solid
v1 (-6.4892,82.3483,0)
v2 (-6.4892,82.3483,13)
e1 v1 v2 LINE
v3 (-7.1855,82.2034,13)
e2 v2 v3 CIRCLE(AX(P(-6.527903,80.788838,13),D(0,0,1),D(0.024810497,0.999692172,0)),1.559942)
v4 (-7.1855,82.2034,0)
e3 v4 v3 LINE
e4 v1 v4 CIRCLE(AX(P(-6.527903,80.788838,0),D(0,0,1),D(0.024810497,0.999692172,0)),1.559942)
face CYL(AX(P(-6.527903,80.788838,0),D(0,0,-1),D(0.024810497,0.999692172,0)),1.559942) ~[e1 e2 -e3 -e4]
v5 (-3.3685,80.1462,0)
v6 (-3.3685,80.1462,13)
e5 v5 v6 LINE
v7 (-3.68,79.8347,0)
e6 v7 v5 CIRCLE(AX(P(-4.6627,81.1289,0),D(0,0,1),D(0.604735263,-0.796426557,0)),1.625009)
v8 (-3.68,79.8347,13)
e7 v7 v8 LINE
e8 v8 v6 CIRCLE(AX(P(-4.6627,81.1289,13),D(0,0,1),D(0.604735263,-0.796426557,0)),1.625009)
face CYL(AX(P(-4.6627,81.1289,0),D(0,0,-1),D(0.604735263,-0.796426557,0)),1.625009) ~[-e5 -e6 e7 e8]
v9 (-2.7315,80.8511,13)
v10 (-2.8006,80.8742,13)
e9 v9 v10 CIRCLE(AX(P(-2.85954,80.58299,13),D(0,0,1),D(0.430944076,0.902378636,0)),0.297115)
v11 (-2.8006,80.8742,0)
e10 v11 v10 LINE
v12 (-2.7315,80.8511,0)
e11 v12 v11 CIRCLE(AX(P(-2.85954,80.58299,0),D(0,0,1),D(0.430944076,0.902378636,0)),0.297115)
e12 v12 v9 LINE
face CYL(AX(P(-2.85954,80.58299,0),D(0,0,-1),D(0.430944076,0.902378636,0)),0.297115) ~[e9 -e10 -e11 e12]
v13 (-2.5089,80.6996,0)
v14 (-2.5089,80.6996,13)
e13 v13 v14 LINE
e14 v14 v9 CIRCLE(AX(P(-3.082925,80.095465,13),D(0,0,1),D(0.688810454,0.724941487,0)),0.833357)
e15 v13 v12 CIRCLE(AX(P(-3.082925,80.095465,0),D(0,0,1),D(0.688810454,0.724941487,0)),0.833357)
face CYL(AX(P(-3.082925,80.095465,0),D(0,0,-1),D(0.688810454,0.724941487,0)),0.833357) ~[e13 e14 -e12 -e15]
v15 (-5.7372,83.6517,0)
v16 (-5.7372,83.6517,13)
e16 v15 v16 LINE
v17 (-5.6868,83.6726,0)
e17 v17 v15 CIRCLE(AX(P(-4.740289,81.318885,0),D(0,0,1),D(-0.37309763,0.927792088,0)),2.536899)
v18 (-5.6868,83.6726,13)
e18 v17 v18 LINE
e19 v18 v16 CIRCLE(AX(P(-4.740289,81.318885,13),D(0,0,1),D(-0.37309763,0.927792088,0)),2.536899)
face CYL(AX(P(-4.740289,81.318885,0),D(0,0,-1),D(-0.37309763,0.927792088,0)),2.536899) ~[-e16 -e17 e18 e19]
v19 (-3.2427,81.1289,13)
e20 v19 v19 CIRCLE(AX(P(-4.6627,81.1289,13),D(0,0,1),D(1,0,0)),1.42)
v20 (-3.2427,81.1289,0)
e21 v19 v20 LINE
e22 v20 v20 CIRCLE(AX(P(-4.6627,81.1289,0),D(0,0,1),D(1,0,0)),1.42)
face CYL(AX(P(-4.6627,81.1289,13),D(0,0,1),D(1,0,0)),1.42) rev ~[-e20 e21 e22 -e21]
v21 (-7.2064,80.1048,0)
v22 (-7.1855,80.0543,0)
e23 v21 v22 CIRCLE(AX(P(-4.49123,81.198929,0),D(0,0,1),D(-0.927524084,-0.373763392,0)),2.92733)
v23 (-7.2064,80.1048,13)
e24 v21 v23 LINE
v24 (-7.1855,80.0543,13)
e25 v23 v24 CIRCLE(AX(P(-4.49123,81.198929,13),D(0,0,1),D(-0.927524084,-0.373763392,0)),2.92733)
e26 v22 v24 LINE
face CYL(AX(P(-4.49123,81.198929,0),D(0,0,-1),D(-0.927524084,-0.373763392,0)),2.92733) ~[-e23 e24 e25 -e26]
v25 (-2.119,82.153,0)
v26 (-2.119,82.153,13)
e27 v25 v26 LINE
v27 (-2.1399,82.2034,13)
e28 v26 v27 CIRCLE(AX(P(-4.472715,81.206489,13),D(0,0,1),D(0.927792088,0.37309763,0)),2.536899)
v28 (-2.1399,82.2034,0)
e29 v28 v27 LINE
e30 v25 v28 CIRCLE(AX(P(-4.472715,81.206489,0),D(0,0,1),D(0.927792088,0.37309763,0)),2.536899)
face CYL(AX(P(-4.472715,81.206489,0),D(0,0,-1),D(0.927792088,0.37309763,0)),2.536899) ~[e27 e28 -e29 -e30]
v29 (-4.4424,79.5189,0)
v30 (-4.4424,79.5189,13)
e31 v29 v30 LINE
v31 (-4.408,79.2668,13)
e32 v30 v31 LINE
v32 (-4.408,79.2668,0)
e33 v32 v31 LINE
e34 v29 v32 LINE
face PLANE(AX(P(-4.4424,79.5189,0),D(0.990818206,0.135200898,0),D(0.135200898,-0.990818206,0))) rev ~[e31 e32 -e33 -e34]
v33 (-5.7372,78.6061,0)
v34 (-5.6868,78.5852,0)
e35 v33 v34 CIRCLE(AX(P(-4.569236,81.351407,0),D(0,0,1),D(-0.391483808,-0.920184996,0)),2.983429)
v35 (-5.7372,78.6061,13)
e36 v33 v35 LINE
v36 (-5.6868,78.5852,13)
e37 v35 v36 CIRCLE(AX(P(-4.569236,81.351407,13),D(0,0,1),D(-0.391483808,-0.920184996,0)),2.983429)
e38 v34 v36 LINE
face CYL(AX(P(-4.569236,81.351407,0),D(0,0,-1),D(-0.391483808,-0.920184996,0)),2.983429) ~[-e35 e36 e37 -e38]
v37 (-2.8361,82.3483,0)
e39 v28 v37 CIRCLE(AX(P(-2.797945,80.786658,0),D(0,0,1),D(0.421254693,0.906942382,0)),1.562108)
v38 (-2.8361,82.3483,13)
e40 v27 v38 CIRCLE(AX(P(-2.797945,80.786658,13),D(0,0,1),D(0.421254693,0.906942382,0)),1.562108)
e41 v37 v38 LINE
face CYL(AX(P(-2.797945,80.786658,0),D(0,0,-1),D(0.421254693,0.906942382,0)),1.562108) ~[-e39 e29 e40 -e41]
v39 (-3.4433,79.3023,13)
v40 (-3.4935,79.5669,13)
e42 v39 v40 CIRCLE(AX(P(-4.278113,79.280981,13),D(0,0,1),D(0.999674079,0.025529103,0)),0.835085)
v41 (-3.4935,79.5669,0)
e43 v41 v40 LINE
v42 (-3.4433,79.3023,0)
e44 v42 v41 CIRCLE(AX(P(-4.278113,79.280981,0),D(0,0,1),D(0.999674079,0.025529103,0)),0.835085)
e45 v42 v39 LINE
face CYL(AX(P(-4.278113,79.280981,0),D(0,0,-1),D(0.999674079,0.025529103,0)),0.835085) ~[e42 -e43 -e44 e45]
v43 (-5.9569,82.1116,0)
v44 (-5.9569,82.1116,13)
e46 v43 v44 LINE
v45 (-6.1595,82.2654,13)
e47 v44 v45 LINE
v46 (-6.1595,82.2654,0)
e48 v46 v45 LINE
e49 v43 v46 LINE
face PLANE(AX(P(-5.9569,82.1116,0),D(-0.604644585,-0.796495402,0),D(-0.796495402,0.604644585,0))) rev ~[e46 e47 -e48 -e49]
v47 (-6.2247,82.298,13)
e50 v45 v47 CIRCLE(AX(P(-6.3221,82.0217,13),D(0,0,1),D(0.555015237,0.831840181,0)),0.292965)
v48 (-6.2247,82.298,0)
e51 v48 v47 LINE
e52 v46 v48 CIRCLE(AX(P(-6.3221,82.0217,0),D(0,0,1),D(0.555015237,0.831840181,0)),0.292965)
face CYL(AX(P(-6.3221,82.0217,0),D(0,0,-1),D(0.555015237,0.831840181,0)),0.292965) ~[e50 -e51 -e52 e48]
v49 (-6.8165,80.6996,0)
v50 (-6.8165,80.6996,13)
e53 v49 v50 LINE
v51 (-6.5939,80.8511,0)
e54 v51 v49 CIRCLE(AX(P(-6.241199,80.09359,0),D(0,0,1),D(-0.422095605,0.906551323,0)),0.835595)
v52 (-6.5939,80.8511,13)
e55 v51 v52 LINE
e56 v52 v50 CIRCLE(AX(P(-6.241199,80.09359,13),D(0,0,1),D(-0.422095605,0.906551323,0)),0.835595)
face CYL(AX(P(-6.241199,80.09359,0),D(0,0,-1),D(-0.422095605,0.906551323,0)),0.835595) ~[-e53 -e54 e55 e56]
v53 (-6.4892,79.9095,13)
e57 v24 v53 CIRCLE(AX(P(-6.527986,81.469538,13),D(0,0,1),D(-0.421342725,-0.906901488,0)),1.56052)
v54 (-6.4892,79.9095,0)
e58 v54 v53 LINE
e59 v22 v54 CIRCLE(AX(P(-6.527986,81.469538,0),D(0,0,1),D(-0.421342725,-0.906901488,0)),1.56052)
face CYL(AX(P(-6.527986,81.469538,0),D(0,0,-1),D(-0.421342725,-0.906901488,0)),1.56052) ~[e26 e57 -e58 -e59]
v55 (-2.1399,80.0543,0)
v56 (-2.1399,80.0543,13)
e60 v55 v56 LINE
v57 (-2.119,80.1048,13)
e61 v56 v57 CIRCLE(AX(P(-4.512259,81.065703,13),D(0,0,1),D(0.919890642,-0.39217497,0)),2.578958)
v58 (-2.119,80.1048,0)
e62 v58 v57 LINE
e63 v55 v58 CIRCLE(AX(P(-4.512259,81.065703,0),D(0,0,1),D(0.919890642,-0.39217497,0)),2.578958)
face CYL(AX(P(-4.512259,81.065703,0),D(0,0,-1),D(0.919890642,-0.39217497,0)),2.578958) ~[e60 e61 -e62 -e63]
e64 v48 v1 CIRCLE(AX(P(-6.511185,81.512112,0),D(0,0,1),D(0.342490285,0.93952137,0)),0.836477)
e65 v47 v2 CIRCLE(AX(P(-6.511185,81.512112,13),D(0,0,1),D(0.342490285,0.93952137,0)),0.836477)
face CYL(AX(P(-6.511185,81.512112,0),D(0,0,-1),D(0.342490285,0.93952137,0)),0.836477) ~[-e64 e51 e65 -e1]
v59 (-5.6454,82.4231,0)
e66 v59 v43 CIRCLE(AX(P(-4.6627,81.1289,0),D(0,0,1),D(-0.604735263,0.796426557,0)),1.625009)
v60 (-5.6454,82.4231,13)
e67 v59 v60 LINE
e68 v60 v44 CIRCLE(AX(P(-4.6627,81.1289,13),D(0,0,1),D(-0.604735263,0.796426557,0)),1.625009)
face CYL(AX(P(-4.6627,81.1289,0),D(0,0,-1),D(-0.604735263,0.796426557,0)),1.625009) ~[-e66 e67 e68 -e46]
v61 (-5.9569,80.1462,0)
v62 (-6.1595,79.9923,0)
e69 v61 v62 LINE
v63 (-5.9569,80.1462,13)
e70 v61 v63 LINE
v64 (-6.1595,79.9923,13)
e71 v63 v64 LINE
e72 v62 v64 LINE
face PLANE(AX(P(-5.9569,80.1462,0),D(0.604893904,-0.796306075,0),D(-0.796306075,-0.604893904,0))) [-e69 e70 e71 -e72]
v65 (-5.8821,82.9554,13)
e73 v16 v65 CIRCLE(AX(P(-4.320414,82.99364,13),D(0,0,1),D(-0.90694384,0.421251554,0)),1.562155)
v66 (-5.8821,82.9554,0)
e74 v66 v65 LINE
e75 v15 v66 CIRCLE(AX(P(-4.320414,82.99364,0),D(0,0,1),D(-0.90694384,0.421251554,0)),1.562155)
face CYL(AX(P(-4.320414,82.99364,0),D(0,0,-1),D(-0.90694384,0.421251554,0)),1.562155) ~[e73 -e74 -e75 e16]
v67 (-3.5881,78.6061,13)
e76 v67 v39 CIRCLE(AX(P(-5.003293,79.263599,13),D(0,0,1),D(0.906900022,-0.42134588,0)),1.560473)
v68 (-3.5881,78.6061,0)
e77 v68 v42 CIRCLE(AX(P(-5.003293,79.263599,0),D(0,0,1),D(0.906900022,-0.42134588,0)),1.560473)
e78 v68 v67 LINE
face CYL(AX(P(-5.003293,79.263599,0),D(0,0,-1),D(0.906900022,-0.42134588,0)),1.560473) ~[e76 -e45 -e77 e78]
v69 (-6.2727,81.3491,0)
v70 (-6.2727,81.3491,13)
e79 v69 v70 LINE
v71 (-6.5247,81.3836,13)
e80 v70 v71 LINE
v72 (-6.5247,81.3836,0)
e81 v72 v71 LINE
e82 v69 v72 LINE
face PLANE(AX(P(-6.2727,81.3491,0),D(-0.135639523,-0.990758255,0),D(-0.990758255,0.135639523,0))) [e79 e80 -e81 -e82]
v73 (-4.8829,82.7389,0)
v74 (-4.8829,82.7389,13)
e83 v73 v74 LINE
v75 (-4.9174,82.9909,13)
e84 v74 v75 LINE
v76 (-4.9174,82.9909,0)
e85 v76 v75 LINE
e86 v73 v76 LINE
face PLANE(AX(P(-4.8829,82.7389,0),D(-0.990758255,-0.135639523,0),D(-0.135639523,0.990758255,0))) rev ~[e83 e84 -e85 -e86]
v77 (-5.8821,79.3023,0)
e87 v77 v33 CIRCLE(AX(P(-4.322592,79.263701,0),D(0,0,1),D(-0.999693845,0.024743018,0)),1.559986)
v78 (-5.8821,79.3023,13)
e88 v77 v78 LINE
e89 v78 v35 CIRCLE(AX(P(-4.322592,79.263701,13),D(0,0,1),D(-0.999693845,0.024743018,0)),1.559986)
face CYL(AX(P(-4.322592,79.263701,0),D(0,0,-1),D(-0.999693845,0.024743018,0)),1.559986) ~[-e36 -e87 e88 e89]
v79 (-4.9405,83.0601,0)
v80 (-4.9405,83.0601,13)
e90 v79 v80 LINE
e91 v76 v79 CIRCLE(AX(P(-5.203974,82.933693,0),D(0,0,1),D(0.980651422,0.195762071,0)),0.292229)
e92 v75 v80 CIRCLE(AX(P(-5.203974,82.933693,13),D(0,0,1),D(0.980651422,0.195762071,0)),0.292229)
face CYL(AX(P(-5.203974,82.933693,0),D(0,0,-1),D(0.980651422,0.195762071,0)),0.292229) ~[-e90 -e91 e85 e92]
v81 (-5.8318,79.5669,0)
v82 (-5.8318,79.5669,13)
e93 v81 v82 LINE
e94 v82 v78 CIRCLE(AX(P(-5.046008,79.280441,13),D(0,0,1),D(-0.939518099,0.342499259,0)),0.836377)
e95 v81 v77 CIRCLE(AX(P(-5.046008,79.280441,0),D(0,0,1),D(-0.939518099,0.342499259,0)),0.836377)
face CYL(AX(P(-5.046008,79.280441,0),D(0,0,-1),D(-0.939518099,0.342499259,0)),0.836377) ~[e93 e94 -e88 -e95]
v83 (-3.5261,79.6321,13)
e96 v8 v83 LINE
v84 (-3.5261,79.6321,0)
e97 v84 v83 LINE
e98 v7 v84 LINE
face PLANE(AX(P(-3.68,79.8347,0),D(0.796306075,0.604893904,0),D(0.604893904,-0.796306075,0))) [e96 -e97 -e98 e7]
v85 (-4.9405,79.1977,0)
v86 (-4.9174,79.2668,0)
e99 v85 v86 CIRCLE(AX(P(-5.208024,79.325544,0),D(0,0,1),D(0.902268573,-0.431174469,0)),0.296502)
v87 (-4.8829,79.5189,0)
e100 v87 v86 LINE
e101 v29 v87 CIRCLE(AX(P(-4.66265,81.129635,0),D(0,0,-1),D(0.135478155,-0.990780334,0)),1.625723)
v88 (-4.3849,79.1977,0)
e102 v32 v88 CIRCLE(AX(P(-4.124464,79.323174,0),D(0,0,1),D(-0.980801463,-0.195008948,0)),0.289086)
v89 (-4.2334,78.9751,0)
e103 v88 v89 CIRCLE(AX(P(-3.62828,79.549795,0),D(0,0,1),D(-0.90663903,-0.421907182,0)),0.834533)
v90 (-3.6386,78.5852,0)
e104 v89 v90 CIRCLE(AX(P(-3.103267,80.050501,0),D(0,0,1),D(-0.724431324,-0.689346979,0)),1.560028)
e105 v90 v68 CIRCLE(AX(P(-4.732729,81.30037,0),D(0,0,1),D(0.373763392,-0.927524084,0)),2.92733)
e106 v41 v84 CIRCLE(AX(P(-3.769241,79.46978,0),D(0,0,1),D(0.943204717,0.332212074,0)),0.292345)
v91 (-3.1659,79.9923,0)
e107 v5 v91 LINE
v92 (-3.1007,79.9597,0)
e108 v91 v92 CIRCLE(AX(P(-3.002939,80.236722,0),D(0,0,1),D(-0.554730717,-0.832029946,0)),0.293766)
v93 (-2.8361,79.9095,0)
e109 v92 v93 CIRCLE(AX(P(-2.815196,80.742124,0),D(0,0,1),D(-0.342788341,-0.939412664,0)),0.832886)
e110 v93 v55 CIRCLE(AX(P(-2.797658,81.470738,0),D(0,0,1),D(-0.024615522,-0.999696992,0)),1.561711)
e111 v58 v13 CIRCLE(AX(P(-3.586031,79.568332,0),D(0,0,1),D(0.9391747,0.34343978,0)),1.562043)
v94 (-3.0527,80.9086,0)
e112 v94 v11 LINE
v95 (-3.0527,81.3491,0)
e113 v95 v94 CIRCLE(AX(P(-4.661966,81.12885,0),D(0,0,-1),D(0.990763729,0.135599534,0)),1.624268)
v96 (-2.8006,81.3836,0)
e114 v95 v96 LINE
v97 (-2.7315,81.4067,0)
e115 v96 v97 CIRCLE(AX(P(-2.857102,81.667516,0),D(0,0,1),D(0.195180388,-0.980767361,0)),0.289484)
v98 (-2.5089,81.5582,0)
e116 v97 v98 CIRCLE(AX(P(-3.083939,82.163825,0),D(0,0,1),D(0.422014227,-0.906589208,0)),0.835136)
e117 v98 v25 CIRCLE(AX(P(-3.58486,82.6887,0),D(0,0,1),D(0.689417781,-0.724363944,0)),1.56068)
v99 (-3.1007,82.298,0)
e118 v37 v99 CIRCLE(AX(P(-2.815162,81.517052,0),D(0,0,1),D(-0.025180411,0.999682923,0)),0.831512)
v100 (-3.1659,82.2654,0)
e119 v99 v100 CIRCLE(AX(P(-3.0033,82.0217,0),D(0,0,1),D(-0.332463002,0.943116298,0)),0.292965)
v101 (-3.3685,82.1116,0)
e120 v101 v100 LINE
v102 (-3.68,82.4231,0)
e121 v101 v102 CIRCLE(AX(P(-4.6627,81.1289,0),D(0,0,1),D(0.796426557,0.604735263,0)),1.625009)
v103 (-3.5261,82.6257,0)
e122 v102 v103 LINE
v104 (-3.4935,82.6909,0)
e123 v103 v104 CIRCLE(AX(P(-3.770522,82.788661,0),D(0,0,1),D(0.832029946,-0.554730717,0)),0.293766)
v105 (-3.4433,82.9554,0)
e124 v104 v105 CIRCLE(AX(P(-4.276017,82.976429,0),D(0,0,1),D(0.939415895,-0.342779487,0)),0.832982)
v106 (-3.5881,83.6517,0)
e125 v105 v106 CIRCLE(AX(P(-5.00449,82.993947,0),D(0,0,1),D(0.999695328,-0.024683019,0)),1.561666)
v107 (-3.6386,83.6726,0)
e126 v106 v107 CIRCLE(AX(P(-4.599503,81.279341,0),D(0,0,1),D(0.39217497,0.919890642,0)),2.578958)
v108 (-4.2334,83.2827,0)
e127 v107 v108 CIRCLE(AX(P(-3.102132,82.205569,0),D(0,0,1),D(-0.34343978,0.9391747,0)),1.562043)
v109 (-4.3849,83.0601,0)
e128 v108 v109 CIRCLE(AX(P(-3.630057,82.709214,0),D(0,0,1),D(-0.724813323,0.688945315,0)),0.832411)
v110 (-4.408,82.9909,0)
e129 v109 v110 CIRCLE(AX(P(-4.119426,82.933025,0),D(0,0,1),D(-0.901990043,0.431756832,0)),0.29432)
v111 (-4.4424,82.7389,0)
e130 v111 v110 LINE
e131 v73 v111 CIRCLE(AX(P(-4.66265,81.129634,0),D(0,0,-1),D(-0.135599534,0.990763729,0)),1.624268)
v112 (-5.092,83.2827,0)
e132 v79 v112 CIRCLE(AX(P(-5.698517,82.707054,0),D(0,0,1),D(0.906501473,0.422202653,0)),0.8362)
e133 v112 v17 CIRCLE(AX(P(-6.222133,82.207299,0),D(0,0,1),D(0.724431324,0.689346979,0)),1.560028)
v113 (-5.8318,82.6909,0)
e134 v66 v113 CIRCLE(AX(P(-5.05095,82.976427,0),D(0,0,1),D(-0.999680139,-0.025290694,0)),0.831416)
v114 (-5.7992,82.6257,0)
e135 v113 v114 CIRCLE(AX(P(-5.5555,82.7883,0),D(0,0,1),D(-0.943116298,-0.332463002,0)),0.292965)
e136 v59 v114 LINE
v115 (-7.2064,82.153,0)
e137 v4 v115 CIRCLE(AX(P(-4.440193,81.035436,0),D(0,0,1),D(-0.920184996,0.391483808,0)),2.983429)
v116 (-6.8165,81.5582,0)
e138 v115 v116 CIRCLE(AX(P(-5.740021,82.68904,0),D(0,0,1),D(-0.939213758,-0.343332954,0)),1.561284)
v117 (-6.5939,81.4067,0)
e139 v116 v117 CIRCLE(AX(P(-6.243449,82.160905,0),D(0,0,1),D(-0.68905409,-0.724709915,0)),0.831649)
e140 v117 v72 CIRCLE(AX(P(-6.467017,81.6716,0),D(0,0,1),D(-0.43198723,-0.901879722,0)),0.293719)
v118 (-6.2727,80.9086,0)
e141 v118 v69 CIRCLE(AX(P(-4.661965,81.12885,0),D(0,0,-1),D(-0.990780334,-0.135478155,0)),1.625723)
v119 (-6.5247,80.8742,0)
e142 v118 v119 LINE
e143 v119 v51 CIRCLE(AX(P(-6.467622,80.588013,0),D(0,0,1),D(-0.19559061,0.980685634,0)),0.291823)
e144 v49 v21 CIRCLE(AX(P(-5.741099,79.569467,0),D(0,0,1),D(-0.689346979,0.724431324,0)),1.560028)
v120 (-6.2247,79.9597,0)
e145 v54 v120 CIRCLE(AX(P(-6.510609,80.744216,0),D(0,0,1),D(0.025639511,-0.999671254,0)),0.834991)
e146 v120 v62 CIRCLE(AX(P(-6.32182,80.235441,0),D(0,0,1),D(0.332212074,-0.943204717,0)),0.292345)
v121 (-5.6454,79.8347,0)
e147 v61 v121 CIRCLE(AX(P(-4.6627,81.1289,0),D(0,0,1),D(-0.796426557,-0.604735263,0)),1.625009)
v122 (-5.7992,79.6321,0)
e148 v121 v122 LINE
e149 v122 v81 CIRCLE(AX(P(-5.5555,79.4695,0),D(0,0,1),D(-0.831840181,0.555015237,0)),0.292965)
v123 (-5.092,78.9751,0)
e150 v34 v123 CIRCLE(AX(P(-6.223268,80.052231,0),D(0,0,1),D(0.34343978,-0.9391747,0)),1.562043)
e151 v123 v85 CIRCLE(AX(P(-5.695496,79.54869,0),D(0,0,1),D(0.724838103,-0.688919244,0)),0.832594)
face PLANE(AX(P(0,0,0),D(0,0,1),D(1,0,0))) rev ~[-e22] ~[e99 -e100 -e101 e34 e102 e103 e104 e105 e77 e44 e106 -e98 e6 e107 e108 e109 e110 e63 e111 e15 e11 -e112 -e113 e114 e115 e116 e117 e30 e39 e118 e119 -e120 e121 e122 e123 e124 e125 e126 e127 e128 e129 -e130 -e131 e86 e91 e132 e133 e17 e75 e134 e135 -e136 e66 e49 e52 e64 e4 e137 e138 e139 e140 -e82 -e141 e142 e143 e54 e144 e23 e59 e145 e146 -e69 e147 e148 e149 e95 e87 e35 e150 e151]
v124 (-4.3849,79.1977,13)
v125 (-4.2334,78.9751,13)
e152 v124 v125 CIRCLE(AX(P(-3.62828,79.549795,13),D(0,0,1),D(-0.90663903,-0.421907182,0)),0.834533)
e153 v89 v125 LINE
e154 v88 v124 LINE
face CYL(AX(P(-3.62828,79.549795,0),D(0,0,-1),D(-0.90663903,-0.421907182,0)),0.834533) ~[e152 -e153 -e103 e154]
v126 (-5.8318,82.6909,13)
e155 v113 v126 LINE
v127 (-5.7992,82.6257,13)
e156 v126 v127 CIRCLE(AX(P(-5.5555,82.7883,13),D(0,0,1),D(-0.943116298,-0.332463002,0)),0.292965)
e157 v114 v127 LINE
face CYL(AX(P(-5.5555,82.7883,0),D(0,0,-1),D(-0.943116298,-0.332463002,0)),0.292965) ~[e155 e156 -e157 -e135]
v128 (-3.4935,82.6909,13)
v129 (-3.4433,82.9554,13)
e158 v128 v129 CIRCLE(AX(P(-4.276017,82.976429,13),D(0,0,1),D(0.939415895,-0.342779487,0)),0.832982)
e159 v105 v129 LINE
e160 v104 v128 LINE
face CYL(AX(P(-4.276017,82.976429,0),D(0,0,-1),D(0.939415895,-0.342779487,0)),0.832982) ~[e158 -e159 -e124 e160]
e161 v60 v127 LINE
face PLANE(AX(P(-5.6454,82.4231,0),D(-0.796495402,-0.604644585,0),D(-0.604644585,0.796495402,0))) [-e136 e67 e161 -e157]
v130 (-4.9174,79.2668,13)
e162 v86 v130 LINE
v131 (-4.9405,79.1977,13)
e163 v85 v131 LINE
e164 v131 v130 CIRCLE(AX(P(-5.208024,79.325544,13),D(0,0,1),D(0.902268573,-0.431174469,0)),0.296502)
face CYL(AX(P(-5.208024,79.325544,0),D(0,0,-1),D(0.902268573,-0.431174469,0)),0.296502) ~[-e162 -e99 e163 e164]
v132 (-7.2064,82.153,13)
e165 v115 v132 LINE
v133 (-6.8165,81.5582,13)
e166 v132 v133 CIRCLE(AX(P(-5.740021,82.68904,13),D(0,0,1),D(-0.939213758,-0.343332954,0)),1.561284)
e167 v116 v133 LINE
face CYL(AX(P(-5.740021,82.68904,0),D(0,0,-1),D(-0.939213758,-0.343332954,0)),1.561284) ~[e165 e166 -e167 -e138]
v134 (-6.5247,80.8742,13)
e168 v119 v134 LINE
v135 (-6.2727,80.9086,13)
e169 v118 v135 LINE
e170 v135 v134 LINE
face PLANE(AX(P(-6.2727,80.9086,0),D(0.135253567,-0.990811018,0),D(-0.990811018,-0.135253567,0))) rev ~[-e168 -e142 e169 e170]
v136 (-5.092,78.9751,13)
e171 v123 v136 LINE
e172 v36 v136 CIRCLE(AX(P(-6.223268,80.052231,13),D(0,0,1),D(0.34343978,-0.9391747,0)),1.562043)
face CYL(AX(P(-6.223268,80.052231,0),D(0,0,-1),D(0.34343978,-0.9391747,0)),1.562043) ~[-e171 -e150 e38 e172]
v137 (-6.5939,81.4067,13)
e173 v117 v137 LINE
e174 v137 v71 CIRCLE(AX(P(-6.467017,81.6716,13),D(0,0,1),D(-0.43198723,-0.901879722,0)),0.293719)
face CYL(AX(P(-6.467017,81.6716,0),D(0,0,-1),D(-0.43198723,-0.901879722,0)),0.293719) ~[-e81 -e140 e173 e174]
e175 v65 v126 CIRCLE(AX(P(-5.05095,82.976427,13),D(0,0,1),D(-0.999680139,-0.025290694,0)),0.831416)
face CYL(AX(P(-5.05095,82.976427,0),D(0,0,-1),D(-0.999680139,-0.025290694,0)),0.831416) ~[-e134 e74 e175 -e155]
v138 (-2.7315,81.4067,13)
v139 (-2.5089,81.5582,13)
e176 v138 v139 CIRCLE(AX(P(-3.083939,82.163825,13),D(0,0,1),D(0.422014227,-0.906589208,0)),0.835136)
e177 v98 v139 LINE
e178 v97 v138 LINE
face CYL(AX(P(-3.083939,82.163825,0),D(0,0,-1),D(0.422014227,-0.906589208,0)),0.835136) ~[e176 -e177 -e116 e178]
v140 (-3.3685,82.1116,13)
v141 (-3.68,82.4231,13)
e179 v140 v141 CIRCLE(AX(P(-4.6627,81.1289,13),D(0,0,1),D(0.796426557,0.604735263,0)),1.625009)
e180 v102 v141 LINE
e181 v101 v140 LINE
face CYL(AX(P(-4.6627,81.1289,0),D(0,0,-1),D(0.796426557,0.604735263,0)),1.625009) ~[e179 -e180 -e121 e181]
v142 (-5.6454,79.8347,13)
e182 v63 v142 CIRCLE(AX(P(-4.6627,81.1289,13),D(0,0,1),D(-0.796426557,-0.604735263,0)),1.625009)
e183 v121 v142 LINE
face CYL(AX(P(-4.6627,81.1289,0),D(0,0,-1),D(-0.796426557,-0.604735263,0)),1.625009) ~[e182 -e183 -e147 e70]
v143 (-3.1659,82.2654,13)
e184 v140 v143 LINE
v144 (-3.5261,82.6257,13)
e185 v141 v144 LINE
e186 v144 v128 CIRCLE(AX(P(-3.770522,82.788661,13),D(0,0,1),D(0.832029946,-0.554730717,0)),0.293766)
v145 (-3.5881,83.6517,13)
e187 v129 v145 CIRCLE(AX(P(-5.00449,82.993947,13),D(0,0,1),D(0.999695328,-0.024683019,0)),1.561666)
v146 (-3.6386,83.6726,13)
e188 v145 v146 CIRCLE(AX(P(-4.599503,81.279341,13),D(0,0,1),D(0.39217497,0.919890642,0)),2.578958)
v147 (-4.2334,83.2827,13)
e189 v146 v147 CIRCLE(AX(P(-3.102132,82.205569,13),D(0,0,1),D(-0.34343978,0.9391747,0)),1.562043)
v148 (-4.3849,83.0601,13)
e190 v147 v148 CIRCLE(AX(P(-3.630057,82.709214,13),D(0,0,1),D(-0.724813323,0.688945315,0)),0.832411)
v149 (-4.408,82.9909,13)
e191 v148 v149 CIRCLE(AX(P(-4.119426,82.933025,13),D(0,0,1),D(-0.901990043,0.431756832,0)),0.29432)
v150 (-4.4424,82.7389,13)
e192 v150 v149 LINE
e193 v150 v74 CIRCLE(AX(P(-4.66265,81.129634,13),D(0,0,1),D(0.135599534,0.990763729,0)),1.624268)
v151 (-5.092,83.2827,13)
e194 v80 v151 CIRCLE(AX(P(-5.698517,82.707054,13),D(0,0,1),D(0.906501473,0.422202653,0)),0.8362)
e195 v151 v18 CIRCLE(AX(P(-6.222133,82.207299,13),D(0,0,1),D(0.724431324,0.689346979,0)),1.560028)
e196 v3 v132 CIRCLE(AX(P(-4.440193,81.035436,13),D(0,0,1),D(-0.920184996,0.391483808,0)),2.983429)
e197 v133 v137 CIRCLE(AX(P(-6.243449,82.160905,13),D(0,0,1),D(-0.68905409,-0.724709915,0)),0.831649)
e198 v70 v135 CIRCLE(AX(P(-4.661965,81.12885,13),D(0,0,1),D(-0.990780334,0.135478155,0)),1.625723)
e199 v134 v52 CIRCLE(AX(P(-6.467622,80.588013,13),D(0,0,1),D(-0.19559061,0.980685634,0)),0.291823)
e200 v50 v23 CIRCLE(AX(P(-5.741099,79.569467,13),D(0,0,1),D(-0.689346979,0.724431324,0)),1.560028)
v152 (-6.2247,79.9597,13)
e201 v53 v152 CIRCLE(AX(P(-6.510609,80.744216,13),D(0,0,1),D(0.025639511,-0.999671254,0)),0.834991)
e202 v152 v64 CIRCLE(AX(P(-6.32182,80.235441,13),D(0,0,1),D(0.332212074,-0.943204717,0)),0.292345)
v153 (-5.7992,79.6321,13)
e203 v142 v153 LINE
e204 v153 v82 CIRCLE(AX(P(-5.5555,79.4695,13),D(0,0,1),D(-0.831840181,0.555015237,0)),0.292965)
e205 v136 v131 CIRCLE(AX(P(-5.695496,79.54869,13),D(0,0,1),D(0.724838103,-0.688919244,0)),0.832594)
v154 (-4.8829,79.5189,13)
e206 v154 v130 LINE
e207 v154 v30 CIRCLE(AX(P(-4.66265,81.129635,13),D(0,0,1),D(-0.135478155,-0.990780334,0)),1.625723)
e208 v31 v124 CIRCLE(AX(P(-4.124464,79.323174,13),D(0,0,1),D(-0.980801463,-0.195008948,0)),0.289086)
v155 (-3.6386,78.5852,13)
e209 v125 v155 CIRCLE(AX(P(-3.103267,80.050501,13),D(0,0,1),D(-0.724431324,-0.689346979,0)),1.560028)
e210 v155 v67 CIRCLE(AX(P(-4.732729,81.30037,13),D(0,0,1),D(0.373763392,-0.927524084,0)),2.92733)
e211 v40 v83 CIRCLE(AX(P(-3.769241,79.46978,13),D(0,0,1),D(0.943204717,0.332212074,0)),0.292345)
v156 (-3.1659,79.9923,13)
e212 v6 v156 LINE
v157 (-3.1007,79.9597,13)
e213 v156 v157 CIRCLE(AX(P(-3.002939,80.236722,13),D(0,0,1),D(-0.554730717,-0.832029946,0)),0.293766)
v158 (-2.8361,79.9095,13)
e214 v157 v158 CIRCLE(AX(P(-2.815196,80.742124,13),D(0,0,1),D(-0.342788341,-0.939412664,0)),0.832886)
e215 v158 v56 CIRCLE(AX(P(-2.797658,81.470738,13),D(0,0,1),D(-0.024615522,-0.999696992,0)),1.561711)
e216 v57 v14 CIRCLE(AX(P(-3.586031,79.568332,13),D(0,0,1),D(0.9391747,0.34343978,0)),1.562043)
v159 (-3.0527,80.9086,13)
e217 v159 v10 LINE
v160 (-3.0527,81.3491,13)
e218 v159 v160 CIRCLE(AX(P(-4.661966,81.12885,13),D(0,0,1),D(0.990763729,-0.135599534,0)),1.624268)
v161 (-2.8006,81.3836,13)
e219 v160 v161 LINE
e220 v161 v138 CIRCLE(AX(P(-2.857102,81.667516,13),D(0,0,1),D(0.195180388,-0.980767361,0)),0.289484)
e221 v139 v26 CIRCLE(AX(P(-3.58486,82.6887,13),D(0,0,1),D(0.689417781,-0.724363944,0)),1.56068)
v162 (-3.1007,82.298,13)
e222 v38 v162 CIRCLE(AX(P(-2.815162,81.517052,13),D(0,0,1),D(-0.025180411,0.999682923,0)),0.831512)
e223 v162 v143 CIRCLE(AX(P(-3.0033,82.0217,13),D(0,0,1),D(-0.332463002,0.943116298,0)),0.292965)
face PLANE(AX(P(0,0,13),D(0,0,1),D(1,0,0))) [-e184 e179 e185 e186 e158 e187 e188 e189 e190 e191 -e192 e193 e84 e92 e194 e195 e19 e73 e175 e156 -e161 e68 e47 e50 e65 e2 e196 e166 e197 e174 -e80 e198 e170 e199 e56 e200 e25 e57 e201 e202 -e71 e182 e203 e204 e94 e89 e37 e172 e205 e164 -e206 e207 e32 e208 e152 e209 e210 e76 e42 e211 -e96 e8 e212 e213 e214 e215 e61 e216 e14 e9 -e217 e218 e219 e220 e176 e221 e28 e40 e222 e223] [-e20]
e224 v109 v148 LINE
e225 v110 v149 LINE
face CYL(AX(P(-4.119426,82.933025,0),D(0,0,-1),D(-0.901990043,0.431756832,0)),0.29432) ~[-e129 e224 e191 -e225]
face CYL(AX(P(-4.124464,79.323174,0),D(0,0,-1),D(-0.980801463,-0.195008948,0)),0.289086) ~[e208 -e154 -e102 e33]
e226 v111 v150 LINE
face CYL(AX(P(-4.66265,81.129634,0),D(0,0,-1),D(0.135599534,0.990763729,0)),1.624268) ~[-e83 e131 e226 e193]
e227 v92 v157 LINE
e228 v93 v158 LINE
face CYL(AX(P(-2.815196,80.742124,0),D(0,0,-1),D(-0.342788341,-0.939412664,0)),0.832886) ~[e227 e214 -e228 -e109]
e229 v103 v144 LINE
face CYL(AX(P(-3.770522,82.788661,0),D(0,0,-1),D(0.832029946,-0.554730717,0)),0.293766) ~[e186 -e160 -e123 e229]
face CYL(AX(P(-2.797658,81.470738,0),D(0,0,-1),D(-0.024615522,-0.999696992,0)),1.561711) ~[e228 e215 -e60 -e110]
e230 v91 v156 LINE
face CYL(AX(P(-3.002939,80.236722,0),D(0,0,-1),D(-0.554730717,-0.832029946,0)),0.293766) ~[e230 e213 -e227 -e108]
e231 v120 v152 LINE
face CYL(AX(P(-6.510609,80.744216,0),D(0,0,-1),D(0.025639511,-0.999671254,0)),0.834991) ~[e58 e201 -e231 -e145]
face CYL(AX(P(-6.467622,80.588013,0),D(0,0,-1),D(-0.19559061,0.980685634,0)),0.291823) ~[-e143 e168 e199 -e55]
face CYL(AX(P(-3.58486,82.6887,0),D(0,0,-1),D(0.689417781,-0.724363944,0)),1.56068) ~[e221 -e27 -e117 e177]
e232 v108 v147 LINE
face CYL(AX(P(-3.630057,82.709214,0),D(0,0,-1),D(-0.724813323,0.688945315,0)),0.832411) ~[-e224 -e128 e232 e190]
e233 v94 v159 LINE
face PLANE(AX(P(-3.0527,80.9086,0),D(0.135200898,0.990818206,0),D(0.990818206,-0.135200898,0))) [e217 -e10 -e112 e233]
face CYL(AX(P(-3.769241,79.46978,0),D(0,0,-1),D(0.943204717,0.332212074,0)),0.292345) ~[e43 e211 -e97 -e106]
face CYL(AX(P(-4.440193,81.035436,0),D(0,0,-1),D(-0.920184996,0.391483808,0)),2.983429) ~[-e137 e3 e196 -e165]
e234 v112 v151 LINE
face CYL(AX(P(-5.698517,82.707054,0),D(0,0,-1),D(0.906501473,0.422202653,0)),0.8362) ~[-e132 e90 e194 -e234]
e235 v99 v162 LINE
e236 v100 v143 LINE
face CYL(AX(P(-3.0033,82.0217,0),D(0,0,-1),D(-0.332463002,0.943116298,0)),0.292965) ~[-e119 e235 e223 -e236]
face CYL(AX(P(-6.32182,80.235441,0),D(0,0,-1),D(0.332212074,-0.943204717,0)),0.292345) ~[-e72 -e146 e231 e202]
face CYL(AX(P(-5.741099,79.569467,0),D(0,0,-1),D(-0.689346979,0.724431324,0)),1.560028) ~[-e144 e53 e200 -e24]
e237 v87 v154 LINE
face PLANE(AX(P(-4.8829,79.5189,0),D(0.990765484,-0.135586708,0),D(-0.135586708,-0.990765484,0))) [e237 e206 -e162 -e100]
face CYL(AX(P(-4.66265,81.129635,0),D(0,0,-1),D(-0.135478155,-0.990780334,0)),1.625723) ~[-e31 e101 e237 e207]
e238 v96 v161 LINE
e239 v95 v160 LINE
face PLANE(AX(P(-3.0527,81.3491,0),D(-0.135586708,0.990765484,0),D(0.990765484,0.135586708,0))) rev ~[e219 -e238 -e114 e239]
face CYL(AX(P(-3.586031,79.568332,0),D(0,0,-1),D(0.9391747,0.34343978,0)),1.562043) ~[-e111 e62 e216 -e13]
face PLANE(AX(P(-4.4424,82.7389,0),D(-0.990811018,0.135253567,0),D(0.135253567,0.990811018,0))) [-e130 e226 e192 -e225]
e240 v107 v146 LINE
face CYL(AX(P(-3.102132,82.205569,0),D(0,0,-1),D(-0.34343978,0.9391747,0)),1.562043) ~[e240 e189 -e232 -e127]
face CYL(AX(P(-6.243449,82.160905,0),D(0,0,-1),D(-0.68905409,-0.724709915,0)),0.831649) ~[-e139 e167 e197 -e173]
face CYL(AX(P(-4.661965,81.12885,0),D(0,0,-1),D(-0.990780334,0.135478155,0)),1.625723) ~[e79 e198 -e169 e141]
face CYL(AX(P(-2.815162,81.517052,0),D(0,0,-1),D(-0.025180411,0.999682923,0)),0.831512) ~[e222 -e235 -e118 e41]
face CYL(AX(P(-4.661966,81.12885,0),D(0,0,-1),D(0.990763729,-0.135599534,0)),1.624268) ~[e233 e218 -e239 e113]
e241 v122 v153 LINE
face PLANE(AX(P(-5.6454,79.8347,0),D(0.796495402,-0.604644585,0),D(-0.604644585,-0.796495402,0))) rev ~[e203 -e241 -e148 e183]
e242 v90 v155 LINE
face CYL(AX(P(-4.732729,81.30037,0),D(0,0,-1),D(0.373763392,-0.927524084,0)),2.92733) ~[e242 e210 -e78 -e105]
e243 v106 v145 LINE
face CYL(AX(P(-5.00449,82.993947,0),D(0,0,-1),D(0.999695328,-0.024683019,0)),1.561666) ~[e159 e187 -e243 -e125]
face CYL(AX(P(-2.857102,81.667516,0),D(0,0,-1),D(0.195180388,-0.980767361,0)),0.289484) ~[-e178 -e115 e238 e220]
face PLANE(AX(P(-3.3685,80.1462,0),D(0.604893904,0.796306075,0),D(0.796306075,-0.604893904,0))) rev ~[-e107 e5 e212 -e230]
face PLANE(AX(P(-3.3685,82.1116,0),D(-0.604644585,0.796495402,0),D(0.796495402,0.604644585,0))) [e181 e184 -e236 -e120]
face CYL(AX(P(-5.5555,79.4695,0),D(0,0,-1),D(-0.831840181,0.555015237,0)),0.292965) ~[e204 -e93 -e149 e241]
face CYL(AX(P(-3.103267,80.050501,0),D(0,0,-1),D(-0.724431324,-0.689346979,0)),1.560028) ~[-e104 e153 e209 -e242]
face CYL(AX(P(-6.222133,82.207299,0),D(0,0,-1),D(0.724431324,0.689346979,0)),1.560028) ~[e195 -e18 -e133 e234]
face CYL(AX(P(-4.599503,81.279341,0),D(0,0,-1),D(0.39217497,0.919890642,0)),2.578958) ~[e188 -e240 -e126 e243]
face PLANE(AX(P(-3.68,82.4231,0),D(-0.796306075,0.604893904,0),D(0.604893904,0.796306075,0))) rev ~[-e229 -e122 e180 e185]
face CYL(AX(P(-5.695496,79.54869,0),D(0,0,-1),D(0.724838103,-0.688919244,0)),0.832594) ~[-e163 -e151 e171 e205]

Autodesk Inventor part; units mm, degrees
ref_plane "YZ Plane" through (0, 0, 0) normal (1, 0, 0) x (0, 1, 0)
ref_plane "XZ Plane" through (0, 0, 0) normal (0, 1, 0) x (-1, 0, 0)
ref_plane "XY Plane" through (0, 0, 0) normal (0, 0, 1) x (1, 0, 0)
sketch "スケッチ1" plane through (0, 0, 0) normal (0, 0, 1) x (1, 0, 0)
  arc A0 (-4.3849, 83.0601) -> (-4.408, 82.9909) centre (-4.1206, 82.9335) ccw
  arc A1 (-4.2334, 83.2827) -> (-4.3849, 83.0601) centre (-3.6288, 82.7082) ccw
  arc A2 (-3.6386, 83.6726) -> (-4.2334, 83.2827) centre (-3.1026, 82.2065) ccw
  arc A3 (-5.8318, 82.6909) -> (-5.7992, 82.6257) centre (-5.5555, 82.7883) ccw
  arc A4 (-5.8821, 82.9554) -> (-5.8318, 82.6909) centre (-5.0484, 82.9767) ccw
  arc A5 (-5.7372, 83.6517) -> (-5.8821, 82.9554) centre (-4.3215, 82.994) ccw
  arc A6 (-6.5939, 81.4067) -> (-6.5247, 81.3836) centre (-6.4673, 81.6709) ccw
  arc A7 (-6.8165, 81.5582) -> (-6.5939, 81.4067) centre (-6.242, 82.1627) ccw
  arc A8 (-7.2064, 82.153) -> (-6.8165, 81.5582) centre (-5.7403, 82.6889) ccw
  arc A9 (-6.2247, 79.9597) -> (-6.1595, 79.9923) centre (-6.3221, 80.2361) ccw
  arc A10 (-6.4892, 79.9095) -> (-6.2247, 79.9597) centre (-6.5105, 80.7432) ccw
  arc A11 (-7.1855, 80.0543) -> (-6.4892, 79.9095) centre (-6.5278, 81.4701) ccw
  arc A12 (-4.9405, 79.1977) -> (-4.9174, 79.2668) centre (-5.2047, 79.3242) ccw
  arc A13 (-5.092, 78.9751) -> (-4.9405, 79.1977) centre (-5.6965, 79.5495) ccw
  arc A14 (-5.6868, 78.5852) -> (-5.092, 78.9751) centre (-6.2228, 80.0513) ccw
  arc A15 (-3.4935, 79.5669) -> (-3.5261, 79.6321) centre (-3.7699, 79.4695) ccw
  arc A16 (-3.4433, 79.3023) -> (-3.4935, 79.5669) centre (-4.277, 79.2811) ccw
  arc A17 (-3.5881, 78.6061) -> (-3.4433, 79.3023) centre (-5.0039, 79.2638) ccw
  arc A18 (-2.7315, 80.8511) -> (-2.8006, 80.8742) centre (-2.858, 80.5868) ccw
  arc A19 (-2.5089, 80.6996) -> (-2.7315, 80.8511) centre (-3.0833, 80.095) ccw
  arc A20 (-2.119, 80.1048) -> (-2.5089, 80.6996) centre (-3.5851, 79.5688) ccw
  arc A21 (-3.1007, 82.298) -> (-3.1659, 82.2654) centre (-3.0033, 82.0217) ccw
  arc A22 (-2.8361, 82.3483) -> (-3.1007, 82.298) centre (-2.8149, 81.5146) ccw
  arc A23 (-2.1399, 82.2034) -> (-2.8361, 82.3483) centre (-2.7976, 80.7877) ccw
  arc A24 (-4.9174, 82.9909) -> (-4.9405, 83.0601) centre (-5.2047, 82.9335) ccw
  arc A25 (-4.9405, 83.0601) -> (-5.092, 83.2827) centre (-5.6965, 82.7082) ccw
  arc A26 (-5.092, 83.2827) -> (-5.6868, 83.6726) centre (-6.2228, 82.2065) ccw
  arc A27 (-6.1595, 82.2654) -> (-6.2247, 82.298) centre (-6.3221, 82.0217) ccw
  arc A28 (-6.2247, 82.298) -> (-6.4892, 82.3483) centre (-6.5105, 81.5146) ccw
  arc A29 (-6.4892, 82.3483) -> (-7.1855, 82.2034) centre (-6.5278, 80.7877) ccw
  arc A30 (-6.5247, 80.8742) -> (-6.5939, 80.8511) centre (-6.4673, 80.5868) ccw
  arc A31 (-6.5939, 80.8511) -> (-6.8165, 80.6996) centre (-6.242, 80.095) ccw
  arc A32 (-6.8165, 80.6996) -> (-7.2064, 80.1048) centre (-5.7403, 79.5688) ccw
  arc A33 (-5.7992, 79.6321) -> (-5.8318, 79.5669) centre (-5.5555, 79.4695) ccw
  arc A34 (-5.8318, 79.5669) -> (-5.8821, 79.3023) centre (-5.0484, 79.2811) ccw
  arc A35 (-5.8821, 79.3023) -> (-5.7372, 78.6061) centre (-4.3215, 79.2638) ccw
  arc A36 (-4.408, 79.2668) -> (-4.3849, 79.1977) centre (-4.1206, 79.3242) ccw
  arc A37 (-4.3849, 79.1977) -> (-4.2334, 78.9751) centre (-3.6288, 79.5495) ccw
  arc A38 (-4.2334, 78.9751) -> (-3.6386, 78.5852) centre (-3.1026, 80.0513) ccw
  arc A39 (-3.1659, 79.9923) -> (-3.1007, 79.9597) centre (-3.0033, 80.2361) ccw
  arc A40 (-3.1007, 79.9597) -> (-2.8361, 79.9095) centre (-2.8149, 80.7432) ccw
  arc A41 (-2.8361, 79.9095) -> (-2.1399, 80.0543) centre (-2.7976, 81.4701) ccw
  arc A42 (-2.8006, 81.3836) -> (-2.7315, 81.4067) centre (-2.858, 81.6709) ccw
  arc A43 (-2.7315, 81.4067) -> (-2.5089, 81.5582) centre (-3.0833, 82.1627) ccw
  arc A44 (-2.5089, 81.5582) -> (-2.119, 82.153) centre (-3.5851, 82.6889) ccw
  arc A45 (-3.5261, 82.6257) -> (-3.4935, 82.6909) centre (-3.7699, 82.7883) ccw
  arc A46 (-3.4935, 82.6909) -> (-3.4433, 82.9554) centre (-4.277, 82.9767) ccw
  arc A47 (-3.4433, 82.9554) -> (-3.5881, 83.6517) centre (-5.0039, 82.994) ccw
  arc A48 (-4.4424, 82.7389) -> (-4.8829, 82.7389) centre (-4.6627, 81.1289) ccw
  arc A49 (-5.6454, 82.4231) -> (-5.9569, 82.1116) centre (-4.6627, 81.1289) ccw
  arc A50 (-6.2727, 81.3491) -> (-6.2727, 80.9086) centre (-4.6627, 81.1289) ccw
  arc A51 (-5.9569, 80.1462) -> (-5.6454, 79.8347) centre (-4.6627, 81.1289) ccw
  arc A52 (-4.8829, 79.5189) -> (-4.4424, 79.5189) centre (-4.6627, 81.1289) ccw
  arc A53 (-3.68, 79.8347) -> (-3.3685, 80.1462) centre (-4.6627, 81.1289) ccw
  arc A54 (-3.0527, 80.9086) -> (-3.0527, 81.3491) centre (-4.6627, 81.1289) ccw
  arc A55 (-3.3685, 82.1116) -> (-3.68, 82.4231) centre (-4.6627, 81.1289) ccw
  arc A56 (-5.6868, 83.6726) -> (-5.7372, 83.6517) centre (-4.6627, 81.1289) ccw
  arc A57 (-7.1855, 82.2034) -> (-7.2064, 82.153) centre (-4.6627, 81.1289) ccw
  arc A58 (-7.2064, 80.1048) -> (-7.1855, 80.0543) centre (-4.6627, 81.1289) ccw
  arc A59 (-5.7372, 78.6061) -> (-5.6868, 78.5852) centre (-4.6627, 81.1289) ccw
  arc A60 (-3.6386, 78.5852) -> (-3.5881, 78.6061) centre (-4.6627, 81.1289) ccw
  arc A61 (-2.1399, 80.0543) -> (-2.119, 80.1048) centre (-4.6627, 81.1289) ccw
  arc A62 (-2.119, 82.153) -> (-2.1399, 82.2034) centre (-4.6627, 81.1289) ccw
  arc A63 (-3.5881, 83.6517) -> (-3.6386, 83.6726) centre (-4.6627, 81.1289) ccw
  line L0 (-4.4424, 82.7389) -> (-4.408, 82.9909)
  line L1 (-5.6454, 82.4231) -> (-5.7992, 82.6257)
  line L2 (-6.2727, 81.3491) -> (-6.5247, 81.3836)
  line L3 (-5.9569, 80.1462) -> (-6.1595, 79.9923)
  line L4 (-4.8829, 79.5189) -> (-4.9174, 79.2668)
  line L5 (-3.68, 79.8347) -> (-3.5261, 79.6321)
  line L6 (-3.0527, 80.9086) -> (-2.8006, 80.8742)
  line L7 (-3.3685, 82.1116) -> (-3.1659, 82.2654)
  line L8 (-4.8829, 82.7389) -> (-4.9174, 82.9909)
  line L9 (-5.9569, 82.1116) -> (-6.1595, 82.2654)
  line L10 (-6.2727, 80.9086) -> (-6.5247, 80.8742)
  line L11 (-5.6454, 79.8347) -> (-5.7992, 79.6321)
  line L12 (-4.4424, 79.5189) -> (-4.408, 79.2668)
  line L13 (-3.3685, 80.1462) -> (-3.1659, 79.9923)
  line L14 (-3.0527, 81.3491) -> (-2.8006, 81.3836)
  line L15 (-3.68, 82.4231) -> (-3.5261, 82.6257)
  line L16 (-9.4048, 81.1289) -> (0.0794, 81.1289)
  line L17 (-4.6627, 76.3867) -> (-4.6627, 85.871)
  line L18 (18.0795, 83.871) -> (88.0795, 83.871)
  line L19 (18.0795, 75.871) -> (88.0795, 75.871)
  line L20 (18.0795, 67.871) -> (88.0795, 67.871)
  line L21 (18.0795, 59.871) -> (88.0795, 59.871)
  line L22 (18.0795, 51.871) -> (88.0795, 51.871)
  line L23 (18.0795, 43.871) -> (88.0795, 43.871)
  line L24 (18.0795, 35.871) -> (88.0795, 35.871)
  line L25 (18.0795, 27.871) -> (88.0795, 27.871)
  line L26 (18.0795, 19.871) -> (88.0795, 19.871)
  line L27 (18.0795, 11.871) -> (88.0795, 11.871)
  line L28 (18.0795, 3.871) -> (88.0795, 3.871)
  line L29 (18.0795, -4.129) -> (88.0795, -4.129)
  line L30 (18.0795, -12.129) -> (88.0795, -12.129)
  line L31 (18.0795, 83.871) -> (18.0795, -12.129)
  line L32 (88.0795, 83.871) -> (88.0795, -12.129)
  line L33 (53.0795, 75.871) -> (53.0795, -12.129)
  point P0 (0, 0)
  point P1 (24.0795, 77.871)
  point P2 (26.5795, 69.871)
  point P3 (26.5795, 61.871)
  point P4 (24.0795, 53.871)
  point P5 (26.5795, 45.871)
  point P6 (21.5795, 37.871)
  point P7 (24.0795, 29.871)
  point P8 (24.0795, 21.871)
  point P9 (24.0795, 13.871)
  point P10 (26.5795, 5.871)
  point P11 (26.5795, -2.129)
  point P12 (24.0795, -10.129)
  point P13 (54.0795, 69.871)
  point P14 (70.3295, 61.871)
  point P15 (67.8295, 53.871)
  point P16 (66.5795, 45.871)
  point P17 (70.3295, 37.871)
  point P18 (64.0795, 29.871)
  point P19 (64.0795, 21.871)
  point P20 (66.5795, 13.871)
  point P21 (64.0795, 5.871)
  point P22 (-3.6627, 99.371)
  point P23 (-3.6627, 93.371)
  point P24 (14.6498, 99.371)
  point P25 (15.7123, 93.371)
extrude "押し出し1" add sketch "スケッチ1" along normal blind 13 contours A1 A2 A63 A47 A46 A45 L15 A55 L7 A21 A22 A23 A62 A44 A43 A42 L14 A54 L16 L17 A48 L0 A0 | L17 L16 A50 L2 A6 A7 A8 A57 A29 A28 A27 L9 A49 L1 A3 A4 A5 A56 A26 A25 A24 L8 A48 | L17 A52 L4 A12 A13 A14 A59 A35 A34 A33 L11 A51 L3 A9 A10 A11 A58 A32 A31 A30 L10 A50 L16 | L16 A54 L6 A18 A19 A20 A61 A41 A40 A39 L13 A53 L5 A15 A16 A17 A60 A38 A37 A36 L12 A52 L17
sketch "スケッチ2" plane through (0, 0, 13) normal (0, 0, 1) x (1, 0, 0)
  arc A0 (-4.3849, 83.0601) -> (-4.408, 82.9909) centre (-4.1206, 82.9335) ccw construction
  line L0 (-4.408, 82.9909) -> (-4.4424, 82.7389) construction
  arc A1 (-4.4424, 82.7389) -> (-4.8829, 82.7389) centre (-4.6627, 81.1289) ccw construction
  line L1 (-4.8829, 82.7389) -> (-4.9174, 82.9909) construction
  arc A2 (-4.9174, 82.9909) -> (-4.9405, 83.0601) centre (-5.2047, 82.9335) ccw construction
  arc A3 (-4.9405, 83.0601) -> (-5.092, 83.2827) centre (-5.6965, 82.7082) ccw construction
  arc A4 (-5.092, 83.2827) -> (-5.6868, 83.6726) centre (-6.2228, 82.2065) ccw construction
  arc A5 (-5.6868, 83.6726) -> (-5.7372, 83.6517) centre (-4.6627, 81.1289) ccw construction
  arc A6 (-5.7372, 83.6517) -> (-5.8821, 82.9554) centre (-4.3215, 82.994) ccw construction
  arc A7 (-5.8821, 82.9554) -> (-5.8318, 82.6909) centre (-5.0484, 82.9767) ccw construction
  arc A8 (-5.8318, 82.6909) -> (-5.7992, 82.6257) centre (-5.5555, 82.7883) ccw construction
  line L2 (-5.7992, 82.6257) -> (-5.6454, 82.4231) construction
  arc A9 (-5.6454, 82.4231) -> (-5.9569, 82.1116) centre (-4.6627, 81.1289) ccw construction
  line L3 (-5.9569, 82.1116) -> (-6.1595, 82.2654) construction
  arc A10 (-6.1595, 82.2654) -> (-6.2247, 82.298) centre (-6.3221, 82.0217) ccw construction
  arc A11 (-6.2247, 82.298) -> (-6.4892, 82.3483) centre (-6.5105, 81.5146) ccw construction
  arc A12 (-6.4892, 82.3483) -> (-7.1855, 82.2034) centre (-6.5278, 80.7877) ccw construction
  arc A13 (-7.1855, 82.2034) -> (-7.2064, 82.153) centre (-4.6627, 81.1289) ccw construction
  arc A14 (-7.2064, 82.153) -> (-6.8165, 81.5582) centre (-5.7403, 82.6889) ccw construction
  arc A15 (-6.8165, 81.5582) -> (-6.5939, 81.4067) centre (-6.242, 82.1627) ccw construction
  arc A16 (-6.5939, 81.4067) -> (-6.5247, 81.3836) centre (-6.4673, 81.6709) ccw construction
  line L4 (-6.5247, 81.3836) -> (-6.2727, 81.3491) construction
  arc A17 (-6.2727, 81.3491) -> (-6.2727, 80.9086) centre (-4.6627, 81.1289) ccw construction
  line L5 (-6.2727, 80.9086) -> (-6.5247, 80.8742) construction
  arc A18 (-6.5247, 80.8742) -> (-6.5939, 80.8511) centre (-6.4673, 80.5868) ccw construction
  arc A19 (-6.5939, 80.8511) -> (-6.8165, 80.6996) centre (-6.242, 80.095) ccw construction
  arc A20 (-6.8165, 80.6996) -> (-7.2064, 80.1048) centre (-5.7403, 79.5688) ccw construction
  arc A21 (-7.2064, 80.1048) -> (-7.1855, 80.0543) centre (-4.6627, 81.1289) ccw construction
  arc A22 (-7.1855, 80.0543) -> (-6.4892, 79.9095) centre (-6.5278, 81.4701) ccw construction
  arc A23 (-6.4892, 79.9095) -> (-6.2247, 79.9597) centre (-6.5105, 80.7432) ccw construction
  arc A24 (-6.2247, 79.9597) -> (-6.1595, 79.9923) centre (-6.3221, 80.2361) ccw construction
  line L6 (-6.1595, 79.9923) -> (-5.9569, 80.1462) construction
  arc A25 (-5.9569, 80.1462) -> (-5.6454, 79.8347) centre (-4.6627, 81.1289) ccw construction
  line L7 (-5.6454, 79.8347) -> (-5.7992, 79.6321) construction
  arc A26 (-5.7992, 79.6321) -> (-5.8318, 79.5669) centre (-5.5555, 79.4695) ccw construction
  arc A27 (-5.8318, 79.5669) -> (-5.8821, 79.3023) centre (-5.0484, 79.2811) ccw construction
  arc A28 (-5.8821, 79.3023) -> (-5.7372, 78.6061) centre (-4.3215, 79.2638) ccw construction
  arc A29 (-5.7372, 78.6061) -> (-5.6868, 78.5852) centre (-4.6627, 81.1289) ccw construction
  arc A30 (-5.6868, 78.5852) -> (-5.092, 78.9751) centre (-6.2228, 80.0513) ccw construction
  arc A31 (-5.092, 78.9751) -> (-4.9405, 79.1977) centre (-5.6965, 79.5495) ccw construction
  arc A32 (-4.9405, 79.1977) -> (-4.9174, 79.2668) centre (-5.2047, 79.3242) ccw construction
  line L8 (-4.9174, 79.2668) -> (-4.8829, 79.5189) construction
  arc A33 (-4.8829, 79.5189) -> (-4.4424, 79.5189) centre (-4.6627, 81.1289) ccw construction
  line L9 (-4.4424, 79.5189) -> (-4.408, 79.2668) construction
  arc A34 (-4.408, 79.2668) -> (-4.3849, 79.1977) centre (-4.1206, 79.3242) ccw construction
  arc A35 (-4.3849, 79.1977) -> (-4.2334, 78.9751) centre (-3.6288, 79.5495) ccw construction
  arc A36 (-4.2334, 78.9751) -> (-3.6386, 78.5852) centre (-3.1026, 80.0513) ccw construction
  arc A37 (-3.6386, 78.5852) -> (-3.5881, 78.6061) centre (-4.6627, 81.1289) ccw construction
  arc A38 (-3.5881, 78.6061) -> (-3.4433, 79.3023) centre (-5.0039, 79.2638) ccw construction
  arc A39 (-3.4433, 79.3023) -> (-3.4935, 79.5669) centre (-4.277, 79.2811) ccw construction
  arc A40 (-3.4935, 79.5669) -> (-3.5261, 79.6321) centre (-3.7699, 79.4695) ccw construction
  line L10 (-3.5261, 79.6321) -> (-3.68, 79.8347) construction
  arc A41 (-3.68, 79.8347) -> (-3.3685, 80.1462) centre (-4.6627, 81.1289) ccw construction
  line L11 (-3.3685, 80.1462) -> (-3.1659, 79.9923) construction
  arc A42 (-3.1659, 79.9923) -> (-3.1007, 79.9597) centre (-3.0033, 80.2361) ccw construction
  arc A43 (-3.1007, 79.9597) -> (-2.8361, 79.9095) centre (-2.8149, 80.7432) ccw construction
  arc A44 (-2.8361, 79.9095) -> (-2.1399, 80.0543) centre (-2.7976, 81.4701) ccw construction
  arc A45 (-2.1399, 80.0543) -> (-2.119, 80.1048) centre (-4.6627, 81.1289) ccw construction
  arc A46 (-2.119, 80.1048) -> (-2.5089, 80.6996) centre (-3.5851, 79.5688) ccw construction
  arc A47 (-2.5089, 80.6996) -> (-2.7315, 80.8511) centre (-3.0833, 80.095) ccw construction
  arc A48 (-2.7315, 80.8511) -> (-2.8006, 80.8742) centre (-2.858, 80.5868) ccw construction
  line L12 (-2.8006, 80.8742) -> (-3.0527, 80.9086) construction
  arc A49 (-3.0527, 80.9086) -> (-3.0527, 81.3491) centre (-4.6627, 81.1289) ccw construction
  line L13 (-3.0527, 81.3491) -> (-2.8006, 81.3836) construction
  arc A50 (-2.8006, 81.3836) -> (-2.7315, 81.4067) centre (-2.858, 81.6709) ccw construction
  arc A51 (-2.7315, 81.4067) -> (-2.5089, 81.5582) centre (-3.0833, 82.1627) ccw construction
  arc A52 (-2.5089, 81.5582) -> (-2.119, 82.153) centre (-3.5851, 82.6889) ccw construction
  arc A53 (-2.119, 82.153) -> (-2.1399, 82.2034) centre (-4.6627, 81.1289) ccw construction
  arc A54 (-2.1399, 82.2034) -> (-2.8361, 82.3483) centre (-2.7976, 80.7877) ccw construction
  arc A55 (-2.8361, 82.3483) -> (-3.1007, 82.298) centre (-2.8149, 81.5146) ccw construction
  arc A56 (-3.1007, 82.298) -> (-3.1659, 82.2654) centre (-3.0033, 82.0217) ccw construction
  line L14 (-3.1659, 82.2654) -> (-3.3685, 82.1116) construction
  arc A57 (-3.3685, 82.1116) -> (-3.68, 82.4231) centre (-4.6627, 81.1289) ccw construction
  line L15 (-3.68, 82.4231) -> (-3.5261, 82.6257) construction
  arc A58 (-3.5261, 82.6257) -> (-3.4935, 82.6909) centre (-3.7699, 82.7883) ccw construction
  arc A59 (-3.4935, 82.6909) -> (-3.4433, 82.9554) centre (-4.277, 82.9767) ccw construction
  arc A60 (-3.4433, 82.9554) -> (-3.5881, 83.6517) centre (-5.0039, 82.994) ccw construction
  arc A61 (-3.5881, 83.6517) -> (-3.6386, 83.6726) centre (-4.6627, 81.1289) ccw construction
  arc A62 (-3.6386, 83.6726) -> (-4.2334, 83.2827) centre (-3.1026, 82.2065) ccw construction
  arc A63 (-4.2334, 83.2827) -> (-4.3849, 83.0601) centre (-3.6288, 82.7082) ccw construction
  circle A64 centre (-4.6627, 81.1289) radius 1.42
  point P0 (0, 0)
  dimension "d2" = 2.84
extrude "押し出し2" cut sketch "スケッチ2" against normal through all
properties part number "ピニオン8" material "鋼、炭素鋼"
